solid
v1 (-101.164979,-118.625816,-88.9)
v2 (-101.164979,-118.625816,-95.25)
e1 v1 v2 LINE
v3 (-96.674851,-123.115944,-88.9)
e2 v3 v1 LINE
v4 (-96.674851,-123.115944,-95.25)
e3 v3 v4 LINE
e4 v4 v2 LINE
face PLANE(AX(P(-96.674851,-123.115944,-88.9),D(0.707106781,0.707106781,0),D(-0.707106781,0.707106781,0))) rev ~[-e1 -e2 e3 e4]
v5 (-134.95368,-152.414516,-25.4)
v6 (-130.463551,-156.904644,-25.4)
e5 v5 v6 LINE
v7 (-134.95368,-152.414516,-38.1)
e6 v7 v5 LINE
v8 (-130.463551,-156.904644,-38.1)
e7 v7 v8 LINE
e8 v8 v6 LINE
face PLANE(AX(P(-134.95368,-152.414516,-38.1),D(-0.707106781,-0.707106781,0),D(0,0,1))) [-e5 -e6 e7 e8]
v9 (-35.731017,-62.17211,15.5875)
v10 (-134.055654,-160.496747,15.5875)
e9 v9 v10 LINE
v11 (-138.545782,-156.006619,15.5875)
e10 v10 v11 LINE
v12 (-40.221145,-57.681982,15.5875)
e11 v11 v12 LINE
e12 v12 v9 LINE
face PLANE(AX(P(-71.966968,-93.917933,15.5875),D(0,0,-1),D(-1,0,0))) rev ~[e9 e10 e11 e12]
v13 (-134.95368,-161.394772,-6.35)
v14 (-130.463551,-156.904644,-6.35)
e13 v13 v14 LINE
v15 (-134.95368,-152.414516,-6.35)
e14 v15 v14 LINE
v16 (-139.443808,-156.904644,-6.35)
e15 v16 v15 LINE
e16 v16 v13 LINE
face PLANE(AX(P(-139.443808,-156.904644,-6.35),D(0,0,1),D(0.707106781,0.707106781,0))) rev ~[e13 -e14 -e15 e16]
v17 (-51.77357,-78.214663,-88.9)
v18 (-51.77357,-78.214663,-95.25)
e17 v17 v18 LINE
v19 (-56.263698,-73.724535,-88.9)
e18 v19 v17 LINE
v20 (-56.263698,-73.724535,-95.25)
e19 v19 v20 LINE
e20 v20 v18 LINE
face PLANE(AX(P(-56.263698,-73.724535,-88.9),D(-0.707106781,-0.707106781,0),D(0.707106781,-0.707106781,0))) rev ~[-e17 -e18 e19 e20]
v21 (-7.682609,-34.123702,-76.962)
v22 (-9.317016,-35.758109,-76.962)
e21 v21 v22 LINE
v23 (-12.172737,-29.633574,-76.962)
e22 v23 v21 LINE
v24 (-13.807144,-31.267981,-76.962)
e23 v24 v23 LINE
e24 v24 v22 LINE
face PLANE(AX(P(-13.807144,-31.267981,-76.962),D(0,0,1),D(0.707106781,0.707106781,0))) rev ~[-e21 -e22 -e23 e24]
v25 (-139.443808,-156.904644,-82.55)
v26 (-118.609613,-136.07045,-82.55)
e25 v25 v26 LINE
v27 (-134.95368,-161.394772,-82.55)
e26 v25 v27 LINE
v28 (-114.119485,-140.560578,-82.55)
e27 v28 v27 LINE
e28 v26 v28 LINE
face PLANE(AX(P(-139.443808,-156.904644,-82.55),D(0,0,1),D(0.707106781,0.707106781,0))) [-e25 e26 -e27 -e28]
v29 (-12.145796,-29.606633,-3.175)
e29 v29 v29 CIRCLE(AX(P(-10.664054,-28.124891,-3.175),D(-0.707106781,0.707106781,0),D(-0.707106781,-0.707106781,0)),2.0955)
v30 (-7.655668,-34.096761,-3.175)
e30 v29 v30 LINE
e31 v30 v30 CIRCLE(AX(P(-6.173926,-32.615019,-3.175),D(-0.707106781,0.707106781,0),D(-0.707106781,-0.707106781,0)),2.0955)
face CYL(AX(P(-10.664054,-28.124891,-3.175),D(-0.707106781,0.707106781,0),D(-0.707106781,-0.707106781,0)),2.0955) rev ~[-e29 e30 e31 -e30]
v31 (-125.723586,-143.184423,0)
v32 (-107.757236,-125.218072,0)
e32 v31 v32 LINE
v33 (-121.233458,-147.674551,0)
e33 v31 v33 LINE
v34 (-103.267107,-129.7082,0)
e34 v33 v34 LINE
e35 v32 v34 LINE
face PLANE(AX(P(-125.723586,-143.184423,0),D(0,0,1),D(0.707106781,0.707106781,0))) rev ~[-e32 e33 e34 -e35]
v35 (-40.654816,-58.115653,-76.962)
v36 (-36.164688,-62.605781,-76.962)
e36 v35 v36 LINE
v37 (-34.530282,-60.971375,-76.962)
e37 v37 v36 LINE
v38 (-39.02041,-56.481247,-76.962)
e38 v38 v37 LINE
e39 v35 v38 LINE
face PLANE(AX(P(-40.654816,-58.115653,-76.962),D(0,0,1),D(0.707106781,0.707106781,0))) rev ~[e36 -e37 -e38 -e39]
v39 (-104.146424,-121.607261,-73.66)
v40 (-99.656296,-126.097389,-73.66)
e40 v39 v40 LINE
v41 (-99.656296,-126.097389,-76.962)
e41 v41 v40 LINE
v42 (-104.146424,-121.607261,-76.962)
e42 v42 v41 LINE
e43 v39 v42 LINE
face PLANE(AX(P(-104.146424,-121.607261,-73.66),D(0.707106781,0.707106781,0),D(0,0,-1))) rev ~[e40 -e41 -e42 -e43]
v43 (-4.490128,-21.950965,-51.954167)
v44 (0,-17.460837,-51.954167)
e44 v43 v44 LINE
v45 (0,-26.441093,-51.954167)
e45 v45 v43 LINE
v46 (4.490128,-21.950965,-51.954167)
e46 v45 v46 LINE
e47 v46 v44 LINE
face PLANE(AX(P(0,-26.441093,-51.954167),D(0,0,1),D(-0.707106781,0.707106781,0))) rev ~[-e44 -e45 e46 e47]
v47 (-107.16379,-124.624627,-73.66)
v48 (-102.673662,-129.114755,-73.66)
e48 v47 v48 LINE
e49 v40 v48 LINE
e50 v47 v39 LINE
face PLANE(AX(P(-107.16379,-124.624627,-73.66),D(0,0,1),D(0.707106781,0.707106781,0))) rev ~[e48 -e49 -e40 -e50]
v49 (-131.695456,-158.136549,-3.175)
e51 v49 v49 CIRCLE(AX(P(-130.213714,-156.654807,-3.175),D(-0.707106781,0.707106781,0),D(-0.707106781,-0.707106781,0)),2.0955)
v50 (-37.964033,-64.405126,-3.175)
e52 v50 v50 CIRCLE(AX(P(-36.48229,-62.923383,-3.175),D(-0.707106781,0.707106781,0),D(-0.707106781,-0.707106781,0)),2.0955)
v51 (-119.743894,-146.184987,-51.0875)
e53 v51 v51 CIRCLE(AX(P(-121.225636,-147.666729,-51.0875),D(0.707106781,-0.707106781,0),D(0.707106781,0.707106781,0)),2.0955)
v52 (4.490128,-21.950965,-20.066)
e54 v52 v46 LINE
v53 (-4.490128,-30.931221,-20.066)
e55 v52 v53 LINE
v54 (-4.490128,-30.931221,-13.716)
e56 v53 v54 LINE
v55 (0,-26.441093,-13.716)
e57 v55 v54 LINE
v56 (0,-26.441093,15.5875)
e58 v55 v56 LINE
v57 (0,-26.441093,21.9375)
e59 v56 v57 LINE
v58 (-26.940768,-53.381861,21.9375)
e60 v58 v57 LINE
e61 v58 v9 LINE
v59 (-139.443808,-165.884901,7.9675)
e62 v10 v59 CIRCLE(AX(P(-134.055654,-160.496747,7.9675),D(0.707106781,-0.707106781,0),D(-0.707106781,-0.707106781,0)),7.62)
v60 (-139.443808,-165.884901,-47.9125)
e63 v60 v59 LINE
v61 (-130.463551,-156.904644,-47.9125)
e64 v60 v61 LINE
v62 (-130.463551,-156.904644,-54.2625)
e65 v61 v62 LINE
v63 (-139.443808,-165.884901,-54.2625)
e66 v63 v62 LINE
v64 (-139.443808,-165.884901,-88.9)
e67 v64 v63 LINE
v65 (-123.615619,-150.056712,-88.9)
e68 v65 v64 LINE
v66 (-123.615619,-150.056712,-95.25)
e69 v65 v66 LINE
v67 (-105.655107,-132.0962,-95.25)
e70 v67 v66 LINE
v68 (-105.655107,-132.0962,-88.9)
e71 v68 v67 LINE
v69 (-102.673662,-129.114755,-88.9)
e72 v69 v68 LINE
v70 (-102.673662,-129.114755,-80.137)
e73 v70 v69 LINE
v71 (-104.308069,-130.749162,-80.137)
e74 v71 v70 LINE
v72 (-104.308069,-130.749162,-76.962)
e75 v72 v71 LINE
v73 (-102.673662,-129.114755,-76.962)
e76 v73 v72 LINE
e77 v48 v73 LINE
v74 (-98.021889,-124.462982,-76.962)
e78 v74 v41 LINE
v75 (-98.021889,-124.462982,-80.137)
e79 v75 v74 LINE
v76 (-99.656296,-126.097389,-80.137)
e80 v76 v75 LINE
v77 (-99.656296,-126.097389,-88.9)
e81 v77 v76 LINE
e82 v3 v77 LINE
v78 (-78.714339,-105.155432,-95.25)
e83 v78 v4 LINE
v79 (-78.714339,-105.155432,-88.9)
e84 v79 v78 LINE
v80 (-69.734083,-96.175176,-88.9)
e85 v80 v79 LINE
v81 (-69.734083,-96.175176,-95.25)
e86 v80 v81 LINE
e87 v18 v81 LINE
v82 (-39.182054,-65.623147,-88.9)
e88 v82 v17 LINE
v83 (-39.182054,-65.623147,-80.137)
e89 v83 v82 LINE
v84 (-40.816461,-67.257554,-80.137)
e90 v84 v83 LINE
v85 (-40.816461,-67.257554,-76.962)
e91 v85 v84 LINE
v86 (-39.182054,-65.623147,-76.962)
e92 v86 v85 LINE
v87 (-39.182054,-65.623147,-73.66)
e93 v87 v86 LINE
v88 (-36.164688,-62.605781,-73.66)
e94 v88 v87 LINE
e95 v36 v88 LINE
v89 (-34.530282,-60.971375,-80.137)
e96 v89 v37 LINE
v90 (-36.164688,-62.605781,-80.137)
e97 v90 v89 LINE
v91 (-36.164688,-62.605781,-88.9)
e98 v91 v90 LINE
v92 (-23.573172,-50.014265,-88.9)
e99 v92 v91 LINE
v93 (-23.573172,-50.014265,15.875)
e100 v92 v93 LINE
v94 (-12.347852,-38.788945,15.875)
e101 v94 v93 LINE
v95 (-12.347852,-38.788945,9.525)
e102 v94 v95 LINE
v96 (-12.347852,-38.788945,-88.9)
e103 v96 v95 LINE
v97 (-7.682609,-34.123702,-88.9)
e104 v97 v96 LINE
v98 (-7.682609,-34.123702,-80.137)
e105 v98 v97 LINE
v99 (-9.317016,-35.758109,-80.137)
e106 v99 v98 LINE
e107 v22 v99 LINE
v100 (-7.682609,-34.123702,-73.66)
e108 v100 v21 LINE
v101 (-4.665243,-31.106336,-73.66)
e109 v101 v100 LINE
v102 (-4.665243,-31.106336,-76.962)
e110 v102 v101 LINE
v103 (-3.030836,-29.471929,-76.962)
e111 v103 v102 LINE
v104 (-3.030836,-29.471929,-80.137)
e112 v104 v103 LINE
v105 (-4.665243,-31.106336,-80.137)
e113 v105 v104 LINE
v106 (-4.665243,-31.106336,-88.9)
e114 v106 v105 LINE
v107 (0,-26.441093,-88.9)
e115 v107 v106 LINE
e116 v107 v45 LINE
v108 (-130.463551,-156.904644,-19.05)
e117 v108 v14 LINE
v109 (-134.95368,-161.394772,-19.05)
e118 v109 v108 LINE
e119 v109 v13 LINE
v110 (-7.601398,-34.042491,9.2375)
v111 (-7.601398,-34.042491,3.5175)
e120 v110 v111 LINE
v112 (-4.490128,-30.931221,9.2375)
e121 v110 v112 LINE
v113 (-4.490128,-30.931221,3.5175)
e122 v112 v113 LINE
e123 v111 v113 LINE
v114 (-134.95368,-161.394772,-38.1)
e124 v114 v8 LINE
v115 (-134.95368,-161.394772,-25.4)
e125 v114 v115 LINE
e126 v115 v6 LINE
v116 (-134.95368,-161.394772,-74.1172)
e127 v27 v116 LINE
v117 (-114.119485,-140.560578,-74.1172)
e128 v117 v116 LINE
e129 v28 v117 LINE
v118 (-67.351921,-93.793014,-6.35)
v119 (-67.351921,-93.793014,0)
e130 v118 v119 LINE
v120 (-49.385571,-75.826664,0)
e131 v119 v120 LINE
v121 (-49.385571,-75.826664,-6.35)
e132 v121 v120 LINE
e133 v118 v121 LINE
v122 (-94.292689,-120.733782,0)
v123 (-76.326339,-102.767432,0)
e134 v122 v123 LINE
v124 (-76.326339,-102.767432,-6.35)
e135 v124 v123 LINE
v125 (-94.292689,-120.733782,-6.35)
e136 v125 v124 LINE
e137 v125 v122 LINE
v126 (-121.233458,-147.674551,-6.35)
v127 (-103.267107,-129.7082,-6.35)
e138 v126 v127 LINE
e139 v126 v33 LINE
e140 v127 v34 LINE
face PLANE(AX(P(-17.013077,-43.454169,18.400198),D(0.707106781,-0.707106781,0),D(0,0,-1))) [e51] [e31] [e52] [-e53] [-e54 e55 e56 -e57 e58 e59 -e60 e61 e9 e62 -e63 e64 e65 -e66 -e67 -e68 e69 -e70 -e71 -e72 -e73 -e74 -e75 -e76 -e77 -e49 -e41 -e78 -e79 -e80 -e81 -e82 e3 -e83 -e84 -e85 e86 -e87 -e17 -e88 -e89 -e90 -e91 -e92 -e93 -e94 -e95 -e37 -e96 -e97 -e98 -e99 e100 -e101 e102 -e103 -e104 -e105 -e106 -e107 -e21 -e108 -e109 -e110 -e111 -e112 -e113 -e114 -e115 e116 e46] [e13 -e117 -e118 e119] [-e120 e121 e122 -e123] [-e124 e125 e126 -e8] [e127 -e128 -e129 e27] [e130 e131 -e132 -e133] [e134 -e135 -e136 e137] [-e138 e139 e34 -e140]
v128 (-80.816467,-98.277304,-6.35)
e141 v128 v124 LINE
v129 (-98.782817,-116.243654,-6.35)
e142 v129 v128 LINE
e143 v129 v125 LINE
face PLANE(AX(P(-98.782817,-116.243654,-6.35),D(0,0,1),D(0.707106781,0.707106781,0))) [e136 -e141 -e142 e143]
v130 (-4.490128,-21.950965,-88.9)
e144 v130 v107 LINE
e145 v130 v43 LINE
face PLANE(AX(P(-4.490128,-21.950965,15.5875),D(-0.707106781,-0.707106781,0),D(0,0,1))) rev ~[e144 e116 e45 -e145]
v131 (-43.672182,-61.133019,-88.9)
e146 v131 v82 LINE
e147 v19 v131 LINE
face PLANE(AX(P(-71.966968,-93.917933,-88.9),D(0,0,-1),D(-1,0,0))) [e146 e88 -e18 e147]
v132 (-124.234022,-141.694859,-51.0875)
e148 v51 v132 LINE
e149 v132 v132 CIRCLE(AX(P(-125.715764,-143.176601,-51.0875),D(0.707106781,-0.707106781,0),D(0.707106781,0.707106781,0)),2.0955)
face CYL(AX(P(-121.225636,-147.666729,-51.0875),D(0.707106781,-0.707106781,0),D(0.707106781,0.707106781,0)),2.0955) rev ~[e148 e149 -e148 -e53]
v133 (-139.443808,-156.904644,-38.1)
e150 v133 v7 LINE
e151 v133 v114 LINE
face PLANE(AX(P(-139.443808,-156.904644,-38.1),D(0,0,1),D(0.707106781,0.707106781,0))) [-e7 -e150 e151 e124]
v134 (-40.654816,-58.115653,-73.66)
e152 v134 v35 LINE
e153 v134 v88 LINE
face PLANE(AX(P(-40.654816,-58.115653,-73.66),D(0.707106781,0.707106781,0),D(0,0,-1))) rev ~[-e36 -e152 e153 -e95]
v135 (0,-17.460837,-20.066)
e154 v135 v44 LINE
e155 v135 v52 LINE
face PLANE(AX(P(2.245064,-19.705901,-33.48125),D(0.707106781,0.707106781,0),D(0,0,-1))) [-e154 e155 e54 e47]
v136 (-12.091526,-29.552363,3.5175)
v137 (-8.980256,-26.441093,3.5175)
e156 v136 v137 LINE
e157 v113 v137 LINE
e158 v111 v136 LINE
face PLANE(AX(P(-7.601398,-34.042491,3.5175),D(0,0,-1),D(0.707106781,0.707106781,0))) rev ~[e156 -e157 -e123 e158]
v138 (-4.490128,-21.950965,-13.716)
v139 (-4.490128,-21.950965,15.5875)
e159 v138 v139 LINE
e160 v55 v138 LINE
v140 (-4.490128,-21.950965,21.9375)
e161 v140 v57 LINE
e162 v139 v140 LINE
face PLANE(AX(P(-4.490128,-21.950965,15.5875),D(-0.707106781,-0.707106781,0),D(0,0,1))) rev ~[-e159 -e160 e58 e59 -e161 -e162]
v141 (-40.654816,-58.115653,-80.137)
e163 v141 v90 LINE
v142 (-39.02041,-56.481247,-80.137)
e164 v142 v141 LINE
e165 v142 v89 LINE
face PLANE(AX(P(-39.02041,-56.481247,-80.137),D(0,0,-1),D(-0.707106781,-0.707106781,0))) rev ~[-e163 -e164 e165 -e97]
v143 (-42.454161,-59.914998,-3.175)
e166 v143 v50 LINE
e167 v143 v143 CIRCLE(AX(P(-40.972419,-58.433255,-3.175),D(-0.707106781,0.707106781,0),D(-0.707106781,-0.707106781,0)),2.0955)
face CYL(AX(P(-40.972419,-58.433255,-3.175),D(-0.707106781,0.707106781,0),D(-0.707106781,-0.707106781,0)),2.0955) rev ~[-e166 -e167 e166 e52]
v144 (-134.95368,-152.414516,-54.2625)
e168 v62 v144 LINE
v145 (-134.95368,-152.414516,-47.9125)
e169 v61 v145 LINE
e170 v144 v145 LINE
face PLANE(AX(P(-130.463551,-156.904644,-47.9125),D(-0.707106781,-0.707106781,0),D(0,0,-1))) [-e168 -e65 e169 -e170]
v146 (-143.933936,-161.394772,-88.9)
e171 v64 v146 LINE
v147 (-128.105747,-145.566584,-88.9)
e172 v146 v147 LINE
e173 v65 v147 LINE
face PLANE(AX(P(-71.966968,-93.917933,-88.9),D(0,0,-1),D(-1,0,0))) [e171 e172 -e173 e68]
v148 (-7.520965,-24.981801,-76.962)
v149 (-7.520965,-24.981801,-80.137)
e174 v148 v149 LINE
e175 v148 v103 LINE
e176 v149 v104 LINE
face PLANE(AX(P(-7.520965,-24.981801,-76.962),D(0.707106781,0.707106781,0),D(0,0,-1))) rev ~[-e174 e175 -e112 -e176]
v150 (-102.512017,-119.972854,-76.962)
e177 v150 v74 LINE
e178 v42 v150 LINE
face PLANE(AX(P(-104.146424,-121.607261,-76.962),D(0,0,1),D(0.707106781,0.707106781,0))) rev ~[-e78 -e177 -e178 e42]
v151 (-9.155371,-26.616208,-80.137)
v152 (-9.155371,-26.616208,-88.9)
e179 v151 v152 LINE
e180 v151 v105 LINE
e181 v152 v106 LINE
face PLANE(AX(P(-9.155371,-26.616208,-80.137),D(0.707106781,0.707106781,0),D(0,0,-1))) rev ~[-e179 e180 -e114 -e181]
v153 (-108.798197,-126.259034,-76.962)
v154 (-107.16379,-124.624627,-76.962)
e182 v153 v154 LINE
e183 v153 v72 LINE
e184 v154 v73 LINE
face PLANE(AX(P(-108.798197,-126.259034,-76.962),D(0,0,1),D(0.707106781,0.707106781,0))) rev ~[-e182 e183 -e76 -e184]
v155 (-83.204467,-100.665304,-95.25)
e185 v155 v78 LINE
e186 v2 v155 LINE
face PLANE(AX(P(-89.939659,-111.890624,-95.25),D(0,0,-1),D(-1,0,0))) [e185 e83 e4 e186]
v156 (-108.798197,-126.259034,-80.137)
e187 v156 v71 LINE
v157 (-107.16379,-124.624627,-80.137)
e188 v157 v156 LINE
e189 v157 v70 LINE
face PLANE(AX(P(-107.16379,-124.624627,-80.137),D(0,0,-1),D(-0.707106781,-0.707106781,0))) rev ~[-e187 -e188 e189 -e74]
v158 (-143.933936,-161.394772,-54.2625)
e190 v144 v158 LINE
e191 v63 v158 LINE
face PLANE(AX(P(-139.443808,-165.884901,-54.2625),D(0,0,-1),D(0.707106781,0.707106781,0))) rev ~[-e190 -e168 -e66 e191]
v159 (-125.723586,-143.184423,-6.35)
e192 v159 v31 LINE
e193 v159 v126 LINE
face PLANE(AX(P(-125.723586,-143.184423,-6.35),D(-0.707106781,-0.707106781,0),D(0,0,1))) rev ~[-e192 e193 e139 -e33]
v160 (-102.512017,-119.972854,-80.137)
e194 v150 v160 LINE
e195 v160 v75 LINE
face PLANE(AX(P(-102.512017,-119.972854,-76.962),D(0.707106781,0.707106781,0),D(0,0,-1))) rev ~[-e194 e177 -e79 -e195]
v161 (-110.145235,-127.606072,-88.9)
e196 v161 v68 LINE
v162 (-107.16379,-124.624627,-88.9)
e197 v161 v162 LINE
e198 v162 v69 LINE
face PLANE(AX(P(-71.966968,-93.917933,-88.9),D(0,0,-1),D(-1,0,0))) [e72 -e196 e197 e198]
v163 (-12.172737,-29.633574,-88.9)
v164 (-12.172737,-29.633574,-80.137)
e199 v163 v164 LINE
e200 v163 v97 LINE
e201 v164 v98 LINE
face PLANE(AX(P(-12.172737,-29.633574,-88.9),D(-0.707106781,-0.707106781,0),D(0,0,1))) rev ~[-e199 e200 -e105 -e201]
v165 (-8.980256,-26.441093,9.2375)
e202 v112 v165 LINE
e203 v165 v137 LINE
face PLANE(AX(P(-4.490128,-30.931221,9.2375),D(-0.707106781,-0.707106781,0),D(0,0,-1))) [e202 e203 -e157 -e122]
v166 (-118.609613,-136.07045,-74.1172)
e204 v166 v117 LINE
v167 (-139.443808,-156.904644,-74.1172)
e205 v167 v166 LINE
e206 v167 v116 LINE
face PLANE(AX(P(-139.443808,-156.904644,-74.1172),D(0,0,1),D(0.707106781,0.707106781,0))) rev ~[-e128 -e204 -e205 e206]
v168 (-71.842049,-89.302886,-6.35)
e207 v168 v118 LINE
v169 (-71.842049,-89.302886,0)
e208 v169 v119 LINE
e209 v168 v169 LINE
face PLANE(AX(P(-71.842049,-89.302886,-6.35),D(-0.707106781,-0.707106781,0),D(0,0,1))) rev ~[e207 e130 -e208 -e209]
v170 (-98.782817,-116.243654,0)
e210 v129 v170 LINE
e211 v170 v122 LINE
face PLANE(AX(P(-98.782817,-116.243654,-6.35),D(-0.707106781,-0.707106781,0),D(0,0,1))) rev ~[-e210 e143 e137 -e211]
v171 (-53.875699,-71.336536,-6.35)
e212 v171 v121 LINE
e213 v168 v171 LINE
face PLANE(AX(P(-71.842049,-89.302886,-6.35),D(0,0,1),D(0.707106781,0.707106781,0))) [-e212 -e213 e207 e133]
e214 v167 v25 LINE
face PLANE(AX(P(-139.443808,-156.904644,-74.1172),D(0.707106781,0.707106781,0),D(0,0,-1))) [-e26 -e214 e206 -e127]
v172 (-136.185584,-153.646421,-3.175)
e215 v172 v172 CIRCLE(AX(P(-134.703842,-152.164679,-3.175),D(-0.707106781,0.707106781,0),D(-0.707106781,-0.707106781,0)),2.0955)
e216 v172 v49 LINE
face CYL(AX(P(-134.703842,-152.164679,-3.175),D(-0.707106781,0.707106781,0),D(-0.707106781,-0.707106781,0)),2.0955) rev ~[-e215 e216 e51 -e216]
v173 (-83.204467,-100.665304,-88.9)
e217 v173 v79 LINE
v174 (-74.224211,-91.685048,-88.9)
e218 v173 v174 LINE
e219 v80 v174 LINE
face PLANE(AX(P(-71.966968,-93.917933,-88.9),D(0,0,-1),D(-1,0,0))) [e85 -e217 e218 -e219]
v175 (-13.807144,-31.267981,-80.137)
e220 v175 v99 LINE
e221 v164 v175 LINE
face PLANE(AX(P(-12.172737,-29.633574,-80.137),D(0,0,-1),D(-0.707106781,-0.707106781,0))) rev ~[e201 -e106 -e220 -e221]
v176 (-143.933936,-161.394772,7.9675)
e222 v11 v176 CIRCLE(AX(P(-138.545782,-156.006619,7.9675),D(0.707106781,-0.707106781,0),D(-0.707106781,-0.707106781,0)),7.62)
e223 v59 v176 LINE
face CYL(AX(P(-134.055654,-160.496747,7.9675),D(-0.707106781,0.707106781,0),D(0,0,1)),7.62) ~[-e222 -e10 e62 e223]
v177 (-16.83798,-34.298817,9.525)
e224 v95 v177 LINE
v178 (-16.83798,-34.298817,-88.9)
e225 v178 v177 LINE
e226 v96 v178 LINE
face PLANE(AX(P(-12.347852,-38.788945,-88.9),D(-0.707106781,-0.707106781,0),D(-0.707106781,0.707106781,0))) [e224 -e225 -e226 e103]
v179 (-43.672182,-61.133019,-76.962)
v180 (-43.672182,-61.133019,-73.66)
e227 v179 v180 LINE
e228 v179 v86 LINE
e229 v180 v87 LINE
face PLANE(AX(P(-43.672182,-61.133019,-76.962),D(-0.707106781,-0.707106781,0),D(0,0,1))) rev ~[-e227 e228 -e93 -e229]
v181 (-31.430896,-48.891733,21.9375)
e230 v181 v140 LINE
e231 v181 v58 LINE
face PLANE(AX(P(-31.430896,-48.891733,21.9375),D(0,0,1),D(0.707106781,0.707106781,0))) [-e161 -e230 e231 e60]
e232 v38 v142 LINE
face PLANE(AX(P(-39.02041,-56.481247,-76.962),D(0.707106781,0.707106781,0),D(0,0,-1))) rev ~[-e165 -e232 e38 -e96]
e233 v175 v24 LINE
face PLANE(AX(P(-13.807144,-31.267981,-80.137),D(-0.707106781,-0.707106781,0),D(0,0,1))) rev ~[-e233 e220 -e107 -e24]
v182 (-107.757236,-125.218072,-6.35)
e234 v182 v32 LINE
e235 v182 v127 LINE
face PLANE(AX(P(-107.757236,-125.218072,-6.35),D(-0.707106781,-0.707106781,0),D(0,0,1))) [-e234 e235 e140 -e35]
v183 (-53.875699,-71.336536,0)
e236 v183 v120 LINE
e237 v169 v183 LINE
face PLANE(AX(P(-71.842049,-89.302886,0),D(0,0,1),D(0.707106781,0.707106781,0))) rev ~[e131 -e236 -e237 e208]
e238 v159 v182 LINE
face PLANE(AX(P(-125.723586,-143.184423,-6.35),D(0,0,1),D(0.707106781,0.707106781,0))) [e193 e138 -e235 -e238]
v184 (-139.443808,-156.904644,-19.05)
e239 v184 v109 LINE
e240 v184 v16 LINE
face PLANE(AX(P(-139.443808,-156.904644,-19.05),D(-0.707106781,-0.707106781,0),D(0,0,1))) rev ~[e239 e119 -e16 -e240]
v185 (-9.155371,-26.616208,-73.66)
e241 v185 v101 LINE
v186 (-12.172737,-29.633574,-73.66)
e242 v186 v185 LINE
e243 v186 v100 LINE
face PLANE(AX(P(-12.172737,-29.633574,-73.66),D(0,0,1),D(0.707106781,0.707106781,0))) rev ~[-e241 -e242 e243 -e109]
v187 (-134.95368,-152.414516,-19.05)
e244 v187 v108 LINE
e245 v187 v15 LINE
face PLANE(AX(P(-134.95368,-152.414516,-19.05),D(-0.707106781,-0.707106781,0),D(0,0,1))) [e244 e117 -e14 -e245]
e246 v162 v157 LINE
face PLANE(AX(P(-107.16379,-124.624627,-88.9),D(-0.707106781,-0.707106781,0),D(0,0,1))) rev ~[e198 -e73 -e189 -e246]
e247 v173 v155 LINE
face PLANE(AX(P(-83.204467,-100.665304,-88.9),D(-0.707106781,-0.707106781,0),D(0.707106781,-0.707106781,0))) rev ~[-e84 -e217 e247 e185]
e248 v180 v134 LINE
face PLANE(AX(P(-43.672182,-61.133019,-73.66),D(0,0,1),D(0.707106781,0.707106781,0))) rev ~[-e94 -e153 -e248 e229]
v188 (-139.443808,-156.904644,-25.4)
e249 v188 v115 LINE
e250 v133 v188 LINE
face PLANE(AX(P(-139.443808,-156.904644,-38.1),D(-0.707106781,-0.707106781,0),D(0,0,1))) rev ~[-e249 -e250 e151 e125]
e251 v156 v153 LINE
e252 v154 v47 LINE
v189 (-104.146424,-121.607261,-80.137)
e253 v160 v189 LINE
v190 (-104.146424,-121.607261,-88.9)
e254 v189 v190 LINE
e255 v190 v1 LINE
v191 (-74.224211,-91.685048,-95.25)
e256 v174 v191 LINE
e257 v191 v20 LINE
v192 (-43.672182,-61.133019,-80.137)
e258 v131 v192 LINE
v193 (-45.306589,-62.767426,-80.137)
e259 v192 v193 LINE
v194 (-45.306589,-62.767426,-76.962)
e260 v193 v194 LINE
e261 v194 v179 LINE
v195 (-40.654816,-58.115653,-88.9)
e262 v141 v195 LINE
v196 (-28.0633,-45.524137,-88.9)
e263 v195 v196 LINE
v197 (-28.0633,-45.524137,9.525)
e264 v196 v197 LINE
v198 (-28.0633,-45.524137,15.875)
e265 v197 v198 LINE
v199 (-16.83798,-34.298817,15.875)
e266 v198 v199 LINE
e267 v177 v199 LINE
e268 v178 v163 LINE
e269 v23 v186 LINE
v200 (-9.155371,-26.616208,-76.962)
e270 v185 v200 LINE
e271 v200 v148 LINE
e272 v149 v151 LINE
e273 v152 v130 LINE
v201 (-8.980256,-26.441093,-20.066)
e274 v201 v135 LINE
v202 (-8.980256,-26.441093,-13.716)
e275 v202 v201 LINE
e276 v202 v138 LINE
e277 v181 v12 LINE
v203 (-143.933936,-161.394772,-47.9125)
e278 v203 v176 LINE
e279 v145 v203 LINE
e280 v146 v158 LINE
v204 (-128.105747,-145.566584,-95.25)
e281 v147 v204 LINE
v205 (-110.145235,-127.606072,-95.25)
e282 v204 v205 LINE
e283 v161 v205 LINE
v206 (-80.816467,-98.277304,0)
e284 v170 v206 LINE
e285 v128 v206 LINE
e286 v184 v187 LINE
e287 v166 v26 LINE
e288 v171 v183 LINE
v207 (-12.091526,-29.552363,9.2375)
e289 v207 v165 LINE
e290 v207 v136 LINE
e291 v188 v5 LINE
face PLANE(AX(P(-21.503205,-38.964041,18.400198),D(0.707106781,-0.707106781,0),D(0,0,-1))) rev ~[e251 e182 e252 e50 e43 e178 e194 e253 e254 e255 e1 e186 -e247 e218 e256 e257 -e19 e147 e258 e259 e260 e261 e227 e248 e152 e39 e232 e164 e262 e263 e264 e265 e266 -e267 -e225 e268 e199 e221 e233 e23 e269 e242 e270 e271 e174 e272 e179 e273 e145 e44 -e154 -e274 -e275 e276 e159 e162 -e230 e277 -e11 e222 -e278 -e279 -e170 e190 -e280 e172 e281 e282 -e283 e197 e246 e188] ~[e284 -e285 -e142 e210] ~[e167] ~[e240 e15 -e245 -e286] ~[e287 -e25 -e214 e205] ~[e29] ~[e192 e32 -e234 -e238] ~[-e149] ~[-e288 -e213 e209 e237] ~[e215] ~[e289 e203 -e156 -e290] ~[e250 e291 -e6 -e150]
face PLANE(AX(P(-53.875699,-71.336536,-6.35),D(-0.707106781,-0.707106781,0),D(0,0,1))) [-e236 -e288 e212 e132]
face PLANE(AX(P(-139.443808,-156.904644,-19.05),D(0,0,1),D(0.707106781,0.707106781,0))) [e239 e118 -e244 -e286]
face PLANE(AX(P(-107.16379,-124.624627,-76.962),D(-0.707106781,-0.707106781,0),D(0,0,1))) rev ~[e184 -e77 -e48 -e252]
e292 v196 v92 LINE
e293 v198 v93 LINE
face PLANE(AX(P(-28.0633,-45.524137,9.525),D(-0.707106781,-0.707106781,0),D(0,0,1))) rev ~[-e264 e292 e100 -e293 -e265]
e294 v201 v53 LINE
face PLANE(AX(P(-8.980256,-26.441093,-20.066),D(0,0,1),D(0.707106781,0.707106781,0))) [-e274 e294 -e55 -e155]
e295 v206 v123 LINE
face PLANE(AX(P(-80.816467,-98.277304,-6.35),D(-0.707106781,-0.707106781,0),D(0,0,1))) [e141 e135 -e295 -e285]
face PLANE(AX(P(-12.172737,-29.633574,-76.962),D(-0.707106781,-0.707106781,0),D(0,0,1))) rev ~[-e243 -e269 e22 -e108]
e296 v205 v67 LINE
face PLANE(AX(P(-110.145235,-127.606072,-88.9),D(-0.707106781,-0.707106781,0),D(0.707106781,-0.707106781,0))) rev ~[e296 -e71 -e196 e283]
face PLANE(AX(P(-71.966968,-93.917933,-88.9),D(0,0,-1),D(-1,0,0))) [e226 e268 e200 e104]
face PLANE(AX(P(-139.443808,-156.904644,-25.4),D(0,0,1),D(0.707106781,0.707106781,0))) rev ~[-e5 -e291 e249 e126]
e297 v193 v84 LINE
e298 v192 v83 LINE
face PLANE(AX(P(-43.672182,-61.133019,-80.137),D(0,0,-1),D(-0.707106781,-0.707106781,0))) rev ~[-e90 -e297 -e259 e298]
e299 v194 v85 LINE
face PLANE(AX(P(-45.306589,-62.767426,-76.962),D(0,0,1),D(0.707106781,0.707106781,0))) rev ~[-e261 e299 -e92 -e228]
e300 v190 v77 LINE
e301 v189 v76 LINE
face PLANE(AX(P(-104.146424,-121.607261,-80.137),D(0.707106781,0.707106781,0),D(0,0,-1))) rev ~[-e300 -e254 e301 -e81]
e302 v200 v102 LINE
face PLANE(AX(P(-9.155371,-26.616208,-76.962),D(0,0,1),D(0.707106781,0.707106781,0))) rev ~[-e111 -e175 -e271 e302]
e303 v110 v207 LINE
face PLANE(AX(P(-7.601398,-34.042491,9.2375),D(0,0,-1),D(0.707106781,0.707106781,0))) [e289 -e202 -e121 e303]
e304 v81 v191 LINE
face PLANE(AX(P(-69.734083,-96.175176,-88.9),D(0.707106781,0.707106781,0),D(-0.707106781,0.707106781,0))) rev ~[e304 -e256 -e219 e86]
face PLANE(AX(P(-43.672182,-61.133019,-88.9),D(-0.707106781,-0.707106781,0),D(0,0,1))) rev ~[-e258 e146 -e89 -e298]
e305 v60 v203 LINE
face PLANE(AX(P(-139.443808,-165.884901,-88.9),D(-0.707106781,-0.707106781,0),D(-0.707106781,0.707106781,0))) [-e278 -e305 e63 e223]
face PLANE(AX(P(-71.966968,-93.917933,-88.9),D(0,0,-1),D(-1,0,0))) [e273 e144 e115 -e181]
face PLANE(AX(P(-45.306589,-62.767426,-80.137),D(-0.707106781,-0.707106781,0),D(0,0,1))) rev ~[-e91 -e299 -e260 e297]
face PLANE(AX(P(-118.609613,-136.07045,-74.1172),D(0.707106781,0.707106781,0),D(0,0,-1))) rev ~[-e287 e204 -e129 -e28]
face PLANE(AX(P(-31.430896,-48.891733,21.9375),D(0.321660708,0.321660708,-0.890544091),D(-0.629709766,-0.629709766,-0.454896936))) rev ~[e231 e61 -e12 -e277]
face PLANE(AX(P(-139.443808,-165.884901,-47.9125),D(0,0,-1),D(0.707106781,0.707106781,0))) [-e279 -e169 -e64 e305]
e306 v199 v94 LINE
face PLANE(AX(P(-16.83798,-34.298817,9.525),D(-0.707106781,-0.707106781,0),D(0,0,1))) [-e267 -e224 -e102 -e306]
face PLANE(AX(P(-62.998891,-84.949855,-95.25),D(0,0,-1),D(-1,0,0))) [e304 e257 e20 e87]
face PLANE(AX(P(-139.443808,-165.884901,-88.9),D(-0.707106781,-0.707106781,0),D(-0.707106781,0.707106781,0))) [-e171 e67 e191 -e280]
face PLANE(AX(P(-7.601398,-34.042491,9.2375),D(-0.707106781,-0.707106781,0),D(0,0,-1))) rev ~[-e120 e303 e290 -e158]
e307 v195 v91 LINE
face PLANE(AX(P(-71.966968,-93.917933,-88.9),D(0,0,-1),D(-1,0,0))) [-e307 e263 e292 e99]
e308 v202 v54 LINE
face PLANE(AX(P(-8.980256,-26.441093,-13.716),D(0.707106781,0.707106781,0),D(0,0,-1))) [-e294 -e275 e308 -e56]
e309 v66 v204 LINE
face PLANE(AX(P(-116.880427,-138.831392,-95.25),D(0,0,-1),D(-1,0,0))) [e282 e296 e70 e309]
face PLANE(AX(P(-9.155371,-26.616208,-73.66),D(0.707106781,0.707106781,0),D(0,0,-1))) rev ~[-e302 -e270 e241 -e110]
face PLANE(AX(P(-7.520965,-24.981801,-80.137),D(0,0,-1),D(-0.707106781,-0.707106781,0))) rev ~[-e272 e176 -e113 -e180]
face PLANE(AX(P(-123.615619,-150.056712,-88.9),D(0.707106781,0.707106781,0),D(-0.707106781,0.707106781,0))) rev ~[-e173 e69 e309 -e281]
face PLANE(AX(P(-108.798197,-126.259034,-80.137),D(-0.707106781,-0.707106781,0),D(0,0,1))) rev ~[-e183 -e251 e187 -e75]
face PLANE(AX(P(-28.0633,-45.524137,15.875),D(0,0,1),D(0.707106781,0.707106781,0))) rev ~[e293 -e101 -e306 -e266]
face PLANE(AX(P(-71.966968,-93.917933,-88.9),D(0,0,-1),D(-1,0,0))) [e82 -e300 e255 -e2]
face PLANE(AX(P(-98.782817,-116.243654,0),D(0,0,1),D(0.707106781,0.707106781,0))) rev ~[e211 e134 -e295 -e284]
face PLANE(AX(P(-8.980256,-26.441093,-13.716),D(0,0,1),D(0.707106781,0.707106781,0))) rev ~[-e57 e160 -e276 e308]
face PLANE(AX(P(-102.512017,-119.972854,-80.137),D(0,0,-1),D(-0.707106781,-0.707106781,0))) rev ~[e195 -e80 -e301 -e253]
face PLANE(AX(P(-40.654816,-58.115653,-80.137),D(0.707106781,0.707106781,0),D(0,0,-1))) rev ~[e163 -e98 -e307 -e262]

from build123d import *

# Parameters (mm, degrees)
BASE_EXTRUSION_DEPTH                 = 15.5875
BASE_EXTRUSION_DEPTH_BACK            = 88.9
PICKER_CLEARANCE_DEPTH               = 98.425
SKETCH3_W                            = 6.35
SKETCH3_H                            = 12.7
CLOTHES_LINE_NOTCH_DEPTH             = 237.446920576
TAB_TO_TOP_PLATE_DEPTH               = 6.35
TOP_PLATE_TABS_COUNT                 = 3
TOP_PLATE_TABS_PITCH                 = 38.1
SKETCH5_W                            = 6.35
SKETCH5_H                            = 25.408256086
BASE_PLATE_TAB_DEPTH                 = 6.35
BASE_PLATE_TAB_HOLES_COUNT           = 3
BASE_PLATE_TAB_HOLES_PITCH           = 38.1
SKETCH8_W                            = 12.7
SKETCH8_H                            = 6.35
BREAK_BEAM_DEPTH                     = 6.35
BREAK_BEAM_HOLES_COUNT               = 2
BREAK_BEAM_HOLES_PITCH               = 19.05
SKETCH10_R                           = 2.0955
CLOTHES_LINE_HOLE_DEPTH              = 239.906883011
CHASSIS_TOP_PLATE_T_SLOT_HOTES_DEPTH = 239.906883011
SKETCH12_R                           = 2.0955
CHASSIS_BASE_PLATE_HOLES_DEPTH       = 239.906883011
V_FUNNEL_CORNER_FILLET_R             = 7.62
BOSS_EXTRUDE1_DEPTH                  = 6.35
SKETCH14_W                           = 6.35
SKETCH14_H                           = 15.875
CUT_EXTRUDE1_DEPTH                   = 239.906883011
SKETCH16_W                           = 36.945833334
SKETCH16_H                           = 6.35
BOSS_EXTRUDE2_DEPTH                  = 6.35
SKETCH18_W                           = 29.464
SKETCH18_H                           = 8.4328
CUT_EXTRUDE2_DEPTH                   = 239.906883011
SKETCH19_W                           = 12.7
SKETCH19_H                           = 6.35
CUT_EXTRUDE3_DEPTH                   = 239.906883011
SKETCH22_W                           = 5.72
SKETCH22_H                           = 4.4
CUT_EXTRUDE6_DEPTH                   = 239.906883011


with BuildPart() as part:
    # Sketch1 → Base Extrusion (new, two sides: drawn at the far end of the back side and taken through both)
    with BuildSketch(Plane.XY.offset(-BASE_EXTRUSION_DEPTH_BACK)):
        Polygon((-4.490128061, -21.950964887), (0, -26.441092948), (-139.443807584, -165.884900532), (-143.933935645, -161.394772471), align=None)
    extrude(amount=BASE_EXTRUSION_DEPTH + BASE_EXTRUSION_DEPTH_BACK)

    # Sketch2 → Picker Clearance (cut)
    with BuildSketch(Plane(origin=(0, 0, -88.9), x_dir=(-1, 0, 0), z_dir=(0, 0, -1))):
        Polygon((12.347852166, -38.788945114), (16.837980227, -34.298817054), (28.063300378, -45.524137205), (23.573172318, -50.014265265), align=None)
    extrude(amount=-PICKER_CLEARANCE_DEPTH, mode=Mode.SUBTRACT)

    # Sketch3 → Clothes Line Notch (cut, through all)
    with BuildSketch(Plane(origin=(13.220546474, -13.220546474, 0), x_dir=(0, 0, -1), z_dir=(0.7071067811865477, -0.7071067811865474, 0))):
        with Locations((51.0875, -209.55)):
            Rectangle(SKETCH3_W, SKETCH3_H)
    extrude(amount=-CLOTHES_LINE_NOTCH_DEPTH, mode=Mode.SUBTRACT)

    # Sketch4 → Tab to Top Plate (add)
    with BuildSketch(Plane(origin=(0, 0, -88.9), x_dir=(-1, 0, 0), z_dir=(0, 0, -1))):
        Polygon((123.615619379, -150.056712327), (128.10574744, -145.566584266), (110.145235198, -127.606072024), (105.655107137, -132.096200085), align=None)
    tab_to_top_plate = extrude(amount=TAB_TO_TOP_PLATE_DEPTH)

    # Top Plate Tabs: Tab to Top Plate ×3
    with Locations(*[Vector(0.7071067811865476, 0.7071067811865476, 0) * (i * TOP_PLATE_TABS_PITCH) for i in range(1, TOP_PLATE_TABS_COUNT)]):
        add(tab_to_top_plate)

    # Sketch5 → Base Plate Tab (cut)
    with BuildSketch(Plane(origin=(8.730418413, -8.730418413, 0), x_dir=(0, 0, 1), z_dir=(-0.7071067811865477, 0.7071067811865475, 0))):
        with Locations((-3.175, -177.442548082)):
            Rectangle(SKETCH5_W, SKETCH5_H)
    base_plate_tab = extrude(amount=-BASE_PLATE_TAB_DEPTH, mode=Mode.SUBTRACT)

    # Base Plate Tab holes: Base Plate Tab ×3
    with Locations(*[Vector(0.7071067811865474, 0.7071067811865477, 0) * (i * BASE_PLATE_TAB_HOLES_PITCH) for i in range(1, BASE_PLATE_TAB_HOLES_COUNT)]):
        add(base_plate_tab, mode=Mode.SUBTRACT)

    # Sketch8 → Break Beam (cut)
    with BuildSketch(Plane(origin=(8.730418413, -8.730418413, 0), x_dir=(0, 0, 1), z_dir=(-0.7071067811865477, 0.7071067811865475, 0))):
        with Locations((-12.7, -206.375)):
            Rectangle(SKETCH8_W, SKETCH8_H)
    break_beam = extrude(amount=-BREAK_BEAM_DEPTH, mode=Mode.SUBTRACT)

    # Break Beam Holes: Break Beam ×2
    with Locations(*[(0, 0, -i * BREAK_BEAM_HOLES_PITCH) for i in range(1, BREAK_BEAM_HOLES_COUNT)]):
        add(break_beam, mode=Mode.SUBTRACT)

    # Sketch10 → Clothes Line Hole (cut, through all)
    with BuildSketch(Plane(origin=(13.220546474, -13.220546474, 0), x_dir=(0, 0, -1), z_dir=(0.7071067811865477, -0.7071067811865474, 0))):
        with Locations(Location((51.0875, -190.135614919, 0), (0, 0, 90))):
            Circle(SKETCH10_R)
    extrude(amount=-CLOTHES_LINE_HOLE_DEPTH, mode=Mode.SUBTRACT)

    # Sketch11 → Chassis top Plate T Slot Hotes (cut, through all)
    with BuildSketch(Plane(origin=(8.730418413, -8.730418413, 0), x_dir=(0.7071067811865475, 0.7071067811865477, 0), z_dir=(-0.7071067811865477, 0.7071067811865475, 0))):
        Polygon((-159.631961573, 88.9), (-163.899161573, 88.9), (-163.899161573, 80.137), (-166.210561573, 80.137), (-166.210561573, 76.962), (-163.899161573, 76.962), (-163.899161573, 73.66), (-159.631961573, 73.66), (-159.631961573, 76.962), (-157.320561573, 76.962), (-157.320561573, 80.137), (-159.631961573, 80.137), align=None)
        Polygon((-69.841268849, 88.9), (-74.108468849, 88.9), (-74.108468849, 80.137), (-76.419868849, 80.137), (-76.419868849, 76.962), (-74.108468849, 76.962), (-74.108468849, 73.66), (-69.841268849, 73.66), (-69.841268849, 76.962), (-67.529868849, 76.962), (-67.529868849, 80.137), (-69.841268849, 80.137), align=None)
        Polygon((-25.294326125, 88.9), (-29.561526125, 88.9), (-29.561526125, 80.137), (-31.872926125, 80.137), (-31.872926125, 76.962), (-29.561526125, 76.962), (-29.561526125, 73.66), (-25.294326125, 73.66), (-25.294326125, 76.962), (-22.982926125, 76.962), (-22.982926125, 80.137), (-25.294326125, 80.137), align=None)
    extrude(amount=-CHASSIS_TOP_PLATE_T_SLOT_HOTES_DEPTH, mode=Mode.SUBTRACT)

    # Sketch12 → Chassis Base Plate Holes (cut, through all)
    with BuildSketch(Plane(origin=(8.730418413, -8.730418413, 0), x_dir=(0.7071067811865475, 0.7071067811865477, 0), z_dir=(-0.7071067811865477, 0.7071067811865475, 0))):
        with Locations(Location((-202.846676125, 3.175, 0), (0, 0, 180))):
            Circle(SKETCH12_R)
        with Locations(Location((-70.290426125, 3.175, 0), (0, 0, 180))):
            Circle(SKETCH12_R)
        with Locations(Location((-27.427926125, 3.175, 0), (0, 0, 180))):
            Circle(SKETCH12_R)
    extrude(amount=-CHASSIS_BASE_PLATE_HOLES_DEPTH, mode=Mode.SUBTRACT)

    # V Funnel Corner Fillet
    v_funnel_corner_fillet_edges = [part.edges().sort_by_distance(p)[0] for p in [
        (-141.688871615, -163.639836502, 15.5875),
    ]]
    fillet(v_funnel_corner_fillet_edges, radius=V_FUNNEL_CORNER_FILLET_R)

    # Sketch13 → Boss-Extrude1 (add)
    with BuildSketch(Plane(origin=(8.730418413, -8.730418413, 0), x_dir=(0, 0, 1), z_dir=(-0.7071067811865477, 0.7071067811865475, 0))):
        Polygon((15.5875, -56.796676125), (15.5875, -31.396676125), (15.5875, -18.696676125), (21.9375, -18.696676125), (21.9375, -31.396676125), (21.9375, -56.796676125), (15.5875, -69.227964479), align=None)
    extrude(amount=-BOSS_EXTRUDE1_DEPTH)

    # Sketch14 → Cut-Extrude1 (cut, through all)
    with BuildSketch(Plane(origin=(8.730418413, -8.730418413, 0), x_dir=(0, 0, 1), z_dir=(-0.7071067811865477, 0.7071067811865475, 0))):
        with Locations((12.7, -44.096676125)):
            Rectangle(SKETCH14_W, SKETCH14_H)
    extrude(amount=-CUT_EXTRUDE1_DEPTH, mode=Mode.SUBTRACT)

    # Sketch16 → Boss-Extrude2 (add)
    with BuildSketch(Plane(origin=(-13.220546474, -13.220546474, 0), x_dir=(0, 0, -1), z_dir=(0.7071067811865519, 0.7071067811865431, 0))):
        with Locations((33.48125, -15.521676125)):
            Rectangle(SKETCH16_W, SKETCH16_H)
    extrude(amount=BOSS_EXTRUDE2_DEPTH)

    # Sketch18 → Cut-Extrude2 (cut, through all)
    with BuildSketch(Plane(origin=(8.730418413, -8.730418413, 0), x_dir=(0.7071067811865475, 0.7071067811865477, 0), z_dir=(-0.7071067811865477, 0.7071067811865475, 0))):
        with Locations((-194.818, 78.3336)):
            Rectangle(SKETCH18_W, SKETCH18_H)
    extrude(amount=-CUT_EXTRUDE2_DEPTH, mode=Mode.SUBTRACT)

    # Sketch19 → Cut-Extrude3 (cut, through all)
    with BuildSketch(Plane(origin=(8.730418413, -8.730418413, 0), x_dir=(0.7071067811865475, 0.7071067811865477, 0), z_dir=(-0.7071067811865477, 0.7071067811865475, 0))):
        with Locations((-18.696676125, 16.891)):
            Rectangle(SKETCH19_W, SKETCH19_H)
    extrude(amount=-CUT_EXTRUDE3_DEPTH, mode=Mode.SUBTRACT)

    # Sketch22 → Cut-Extrude6 (cut, through all)
    with BuildSketch(Plane(origin=(13.220546474, -13.220546474, 0), x_dir=(0, 0, -1), z_dir=(0.7071067811865475, -0.7071067811865476, 0))):
        with Locations((-6.3775, -27.246676125)):
            Rectangle(SKETCH22_W, SKETCH22_H)
    extrude(amount=-CUT_EXTRUDE6_DEPTH, mode=Mode.SUBTRACT)


solid = part.part
